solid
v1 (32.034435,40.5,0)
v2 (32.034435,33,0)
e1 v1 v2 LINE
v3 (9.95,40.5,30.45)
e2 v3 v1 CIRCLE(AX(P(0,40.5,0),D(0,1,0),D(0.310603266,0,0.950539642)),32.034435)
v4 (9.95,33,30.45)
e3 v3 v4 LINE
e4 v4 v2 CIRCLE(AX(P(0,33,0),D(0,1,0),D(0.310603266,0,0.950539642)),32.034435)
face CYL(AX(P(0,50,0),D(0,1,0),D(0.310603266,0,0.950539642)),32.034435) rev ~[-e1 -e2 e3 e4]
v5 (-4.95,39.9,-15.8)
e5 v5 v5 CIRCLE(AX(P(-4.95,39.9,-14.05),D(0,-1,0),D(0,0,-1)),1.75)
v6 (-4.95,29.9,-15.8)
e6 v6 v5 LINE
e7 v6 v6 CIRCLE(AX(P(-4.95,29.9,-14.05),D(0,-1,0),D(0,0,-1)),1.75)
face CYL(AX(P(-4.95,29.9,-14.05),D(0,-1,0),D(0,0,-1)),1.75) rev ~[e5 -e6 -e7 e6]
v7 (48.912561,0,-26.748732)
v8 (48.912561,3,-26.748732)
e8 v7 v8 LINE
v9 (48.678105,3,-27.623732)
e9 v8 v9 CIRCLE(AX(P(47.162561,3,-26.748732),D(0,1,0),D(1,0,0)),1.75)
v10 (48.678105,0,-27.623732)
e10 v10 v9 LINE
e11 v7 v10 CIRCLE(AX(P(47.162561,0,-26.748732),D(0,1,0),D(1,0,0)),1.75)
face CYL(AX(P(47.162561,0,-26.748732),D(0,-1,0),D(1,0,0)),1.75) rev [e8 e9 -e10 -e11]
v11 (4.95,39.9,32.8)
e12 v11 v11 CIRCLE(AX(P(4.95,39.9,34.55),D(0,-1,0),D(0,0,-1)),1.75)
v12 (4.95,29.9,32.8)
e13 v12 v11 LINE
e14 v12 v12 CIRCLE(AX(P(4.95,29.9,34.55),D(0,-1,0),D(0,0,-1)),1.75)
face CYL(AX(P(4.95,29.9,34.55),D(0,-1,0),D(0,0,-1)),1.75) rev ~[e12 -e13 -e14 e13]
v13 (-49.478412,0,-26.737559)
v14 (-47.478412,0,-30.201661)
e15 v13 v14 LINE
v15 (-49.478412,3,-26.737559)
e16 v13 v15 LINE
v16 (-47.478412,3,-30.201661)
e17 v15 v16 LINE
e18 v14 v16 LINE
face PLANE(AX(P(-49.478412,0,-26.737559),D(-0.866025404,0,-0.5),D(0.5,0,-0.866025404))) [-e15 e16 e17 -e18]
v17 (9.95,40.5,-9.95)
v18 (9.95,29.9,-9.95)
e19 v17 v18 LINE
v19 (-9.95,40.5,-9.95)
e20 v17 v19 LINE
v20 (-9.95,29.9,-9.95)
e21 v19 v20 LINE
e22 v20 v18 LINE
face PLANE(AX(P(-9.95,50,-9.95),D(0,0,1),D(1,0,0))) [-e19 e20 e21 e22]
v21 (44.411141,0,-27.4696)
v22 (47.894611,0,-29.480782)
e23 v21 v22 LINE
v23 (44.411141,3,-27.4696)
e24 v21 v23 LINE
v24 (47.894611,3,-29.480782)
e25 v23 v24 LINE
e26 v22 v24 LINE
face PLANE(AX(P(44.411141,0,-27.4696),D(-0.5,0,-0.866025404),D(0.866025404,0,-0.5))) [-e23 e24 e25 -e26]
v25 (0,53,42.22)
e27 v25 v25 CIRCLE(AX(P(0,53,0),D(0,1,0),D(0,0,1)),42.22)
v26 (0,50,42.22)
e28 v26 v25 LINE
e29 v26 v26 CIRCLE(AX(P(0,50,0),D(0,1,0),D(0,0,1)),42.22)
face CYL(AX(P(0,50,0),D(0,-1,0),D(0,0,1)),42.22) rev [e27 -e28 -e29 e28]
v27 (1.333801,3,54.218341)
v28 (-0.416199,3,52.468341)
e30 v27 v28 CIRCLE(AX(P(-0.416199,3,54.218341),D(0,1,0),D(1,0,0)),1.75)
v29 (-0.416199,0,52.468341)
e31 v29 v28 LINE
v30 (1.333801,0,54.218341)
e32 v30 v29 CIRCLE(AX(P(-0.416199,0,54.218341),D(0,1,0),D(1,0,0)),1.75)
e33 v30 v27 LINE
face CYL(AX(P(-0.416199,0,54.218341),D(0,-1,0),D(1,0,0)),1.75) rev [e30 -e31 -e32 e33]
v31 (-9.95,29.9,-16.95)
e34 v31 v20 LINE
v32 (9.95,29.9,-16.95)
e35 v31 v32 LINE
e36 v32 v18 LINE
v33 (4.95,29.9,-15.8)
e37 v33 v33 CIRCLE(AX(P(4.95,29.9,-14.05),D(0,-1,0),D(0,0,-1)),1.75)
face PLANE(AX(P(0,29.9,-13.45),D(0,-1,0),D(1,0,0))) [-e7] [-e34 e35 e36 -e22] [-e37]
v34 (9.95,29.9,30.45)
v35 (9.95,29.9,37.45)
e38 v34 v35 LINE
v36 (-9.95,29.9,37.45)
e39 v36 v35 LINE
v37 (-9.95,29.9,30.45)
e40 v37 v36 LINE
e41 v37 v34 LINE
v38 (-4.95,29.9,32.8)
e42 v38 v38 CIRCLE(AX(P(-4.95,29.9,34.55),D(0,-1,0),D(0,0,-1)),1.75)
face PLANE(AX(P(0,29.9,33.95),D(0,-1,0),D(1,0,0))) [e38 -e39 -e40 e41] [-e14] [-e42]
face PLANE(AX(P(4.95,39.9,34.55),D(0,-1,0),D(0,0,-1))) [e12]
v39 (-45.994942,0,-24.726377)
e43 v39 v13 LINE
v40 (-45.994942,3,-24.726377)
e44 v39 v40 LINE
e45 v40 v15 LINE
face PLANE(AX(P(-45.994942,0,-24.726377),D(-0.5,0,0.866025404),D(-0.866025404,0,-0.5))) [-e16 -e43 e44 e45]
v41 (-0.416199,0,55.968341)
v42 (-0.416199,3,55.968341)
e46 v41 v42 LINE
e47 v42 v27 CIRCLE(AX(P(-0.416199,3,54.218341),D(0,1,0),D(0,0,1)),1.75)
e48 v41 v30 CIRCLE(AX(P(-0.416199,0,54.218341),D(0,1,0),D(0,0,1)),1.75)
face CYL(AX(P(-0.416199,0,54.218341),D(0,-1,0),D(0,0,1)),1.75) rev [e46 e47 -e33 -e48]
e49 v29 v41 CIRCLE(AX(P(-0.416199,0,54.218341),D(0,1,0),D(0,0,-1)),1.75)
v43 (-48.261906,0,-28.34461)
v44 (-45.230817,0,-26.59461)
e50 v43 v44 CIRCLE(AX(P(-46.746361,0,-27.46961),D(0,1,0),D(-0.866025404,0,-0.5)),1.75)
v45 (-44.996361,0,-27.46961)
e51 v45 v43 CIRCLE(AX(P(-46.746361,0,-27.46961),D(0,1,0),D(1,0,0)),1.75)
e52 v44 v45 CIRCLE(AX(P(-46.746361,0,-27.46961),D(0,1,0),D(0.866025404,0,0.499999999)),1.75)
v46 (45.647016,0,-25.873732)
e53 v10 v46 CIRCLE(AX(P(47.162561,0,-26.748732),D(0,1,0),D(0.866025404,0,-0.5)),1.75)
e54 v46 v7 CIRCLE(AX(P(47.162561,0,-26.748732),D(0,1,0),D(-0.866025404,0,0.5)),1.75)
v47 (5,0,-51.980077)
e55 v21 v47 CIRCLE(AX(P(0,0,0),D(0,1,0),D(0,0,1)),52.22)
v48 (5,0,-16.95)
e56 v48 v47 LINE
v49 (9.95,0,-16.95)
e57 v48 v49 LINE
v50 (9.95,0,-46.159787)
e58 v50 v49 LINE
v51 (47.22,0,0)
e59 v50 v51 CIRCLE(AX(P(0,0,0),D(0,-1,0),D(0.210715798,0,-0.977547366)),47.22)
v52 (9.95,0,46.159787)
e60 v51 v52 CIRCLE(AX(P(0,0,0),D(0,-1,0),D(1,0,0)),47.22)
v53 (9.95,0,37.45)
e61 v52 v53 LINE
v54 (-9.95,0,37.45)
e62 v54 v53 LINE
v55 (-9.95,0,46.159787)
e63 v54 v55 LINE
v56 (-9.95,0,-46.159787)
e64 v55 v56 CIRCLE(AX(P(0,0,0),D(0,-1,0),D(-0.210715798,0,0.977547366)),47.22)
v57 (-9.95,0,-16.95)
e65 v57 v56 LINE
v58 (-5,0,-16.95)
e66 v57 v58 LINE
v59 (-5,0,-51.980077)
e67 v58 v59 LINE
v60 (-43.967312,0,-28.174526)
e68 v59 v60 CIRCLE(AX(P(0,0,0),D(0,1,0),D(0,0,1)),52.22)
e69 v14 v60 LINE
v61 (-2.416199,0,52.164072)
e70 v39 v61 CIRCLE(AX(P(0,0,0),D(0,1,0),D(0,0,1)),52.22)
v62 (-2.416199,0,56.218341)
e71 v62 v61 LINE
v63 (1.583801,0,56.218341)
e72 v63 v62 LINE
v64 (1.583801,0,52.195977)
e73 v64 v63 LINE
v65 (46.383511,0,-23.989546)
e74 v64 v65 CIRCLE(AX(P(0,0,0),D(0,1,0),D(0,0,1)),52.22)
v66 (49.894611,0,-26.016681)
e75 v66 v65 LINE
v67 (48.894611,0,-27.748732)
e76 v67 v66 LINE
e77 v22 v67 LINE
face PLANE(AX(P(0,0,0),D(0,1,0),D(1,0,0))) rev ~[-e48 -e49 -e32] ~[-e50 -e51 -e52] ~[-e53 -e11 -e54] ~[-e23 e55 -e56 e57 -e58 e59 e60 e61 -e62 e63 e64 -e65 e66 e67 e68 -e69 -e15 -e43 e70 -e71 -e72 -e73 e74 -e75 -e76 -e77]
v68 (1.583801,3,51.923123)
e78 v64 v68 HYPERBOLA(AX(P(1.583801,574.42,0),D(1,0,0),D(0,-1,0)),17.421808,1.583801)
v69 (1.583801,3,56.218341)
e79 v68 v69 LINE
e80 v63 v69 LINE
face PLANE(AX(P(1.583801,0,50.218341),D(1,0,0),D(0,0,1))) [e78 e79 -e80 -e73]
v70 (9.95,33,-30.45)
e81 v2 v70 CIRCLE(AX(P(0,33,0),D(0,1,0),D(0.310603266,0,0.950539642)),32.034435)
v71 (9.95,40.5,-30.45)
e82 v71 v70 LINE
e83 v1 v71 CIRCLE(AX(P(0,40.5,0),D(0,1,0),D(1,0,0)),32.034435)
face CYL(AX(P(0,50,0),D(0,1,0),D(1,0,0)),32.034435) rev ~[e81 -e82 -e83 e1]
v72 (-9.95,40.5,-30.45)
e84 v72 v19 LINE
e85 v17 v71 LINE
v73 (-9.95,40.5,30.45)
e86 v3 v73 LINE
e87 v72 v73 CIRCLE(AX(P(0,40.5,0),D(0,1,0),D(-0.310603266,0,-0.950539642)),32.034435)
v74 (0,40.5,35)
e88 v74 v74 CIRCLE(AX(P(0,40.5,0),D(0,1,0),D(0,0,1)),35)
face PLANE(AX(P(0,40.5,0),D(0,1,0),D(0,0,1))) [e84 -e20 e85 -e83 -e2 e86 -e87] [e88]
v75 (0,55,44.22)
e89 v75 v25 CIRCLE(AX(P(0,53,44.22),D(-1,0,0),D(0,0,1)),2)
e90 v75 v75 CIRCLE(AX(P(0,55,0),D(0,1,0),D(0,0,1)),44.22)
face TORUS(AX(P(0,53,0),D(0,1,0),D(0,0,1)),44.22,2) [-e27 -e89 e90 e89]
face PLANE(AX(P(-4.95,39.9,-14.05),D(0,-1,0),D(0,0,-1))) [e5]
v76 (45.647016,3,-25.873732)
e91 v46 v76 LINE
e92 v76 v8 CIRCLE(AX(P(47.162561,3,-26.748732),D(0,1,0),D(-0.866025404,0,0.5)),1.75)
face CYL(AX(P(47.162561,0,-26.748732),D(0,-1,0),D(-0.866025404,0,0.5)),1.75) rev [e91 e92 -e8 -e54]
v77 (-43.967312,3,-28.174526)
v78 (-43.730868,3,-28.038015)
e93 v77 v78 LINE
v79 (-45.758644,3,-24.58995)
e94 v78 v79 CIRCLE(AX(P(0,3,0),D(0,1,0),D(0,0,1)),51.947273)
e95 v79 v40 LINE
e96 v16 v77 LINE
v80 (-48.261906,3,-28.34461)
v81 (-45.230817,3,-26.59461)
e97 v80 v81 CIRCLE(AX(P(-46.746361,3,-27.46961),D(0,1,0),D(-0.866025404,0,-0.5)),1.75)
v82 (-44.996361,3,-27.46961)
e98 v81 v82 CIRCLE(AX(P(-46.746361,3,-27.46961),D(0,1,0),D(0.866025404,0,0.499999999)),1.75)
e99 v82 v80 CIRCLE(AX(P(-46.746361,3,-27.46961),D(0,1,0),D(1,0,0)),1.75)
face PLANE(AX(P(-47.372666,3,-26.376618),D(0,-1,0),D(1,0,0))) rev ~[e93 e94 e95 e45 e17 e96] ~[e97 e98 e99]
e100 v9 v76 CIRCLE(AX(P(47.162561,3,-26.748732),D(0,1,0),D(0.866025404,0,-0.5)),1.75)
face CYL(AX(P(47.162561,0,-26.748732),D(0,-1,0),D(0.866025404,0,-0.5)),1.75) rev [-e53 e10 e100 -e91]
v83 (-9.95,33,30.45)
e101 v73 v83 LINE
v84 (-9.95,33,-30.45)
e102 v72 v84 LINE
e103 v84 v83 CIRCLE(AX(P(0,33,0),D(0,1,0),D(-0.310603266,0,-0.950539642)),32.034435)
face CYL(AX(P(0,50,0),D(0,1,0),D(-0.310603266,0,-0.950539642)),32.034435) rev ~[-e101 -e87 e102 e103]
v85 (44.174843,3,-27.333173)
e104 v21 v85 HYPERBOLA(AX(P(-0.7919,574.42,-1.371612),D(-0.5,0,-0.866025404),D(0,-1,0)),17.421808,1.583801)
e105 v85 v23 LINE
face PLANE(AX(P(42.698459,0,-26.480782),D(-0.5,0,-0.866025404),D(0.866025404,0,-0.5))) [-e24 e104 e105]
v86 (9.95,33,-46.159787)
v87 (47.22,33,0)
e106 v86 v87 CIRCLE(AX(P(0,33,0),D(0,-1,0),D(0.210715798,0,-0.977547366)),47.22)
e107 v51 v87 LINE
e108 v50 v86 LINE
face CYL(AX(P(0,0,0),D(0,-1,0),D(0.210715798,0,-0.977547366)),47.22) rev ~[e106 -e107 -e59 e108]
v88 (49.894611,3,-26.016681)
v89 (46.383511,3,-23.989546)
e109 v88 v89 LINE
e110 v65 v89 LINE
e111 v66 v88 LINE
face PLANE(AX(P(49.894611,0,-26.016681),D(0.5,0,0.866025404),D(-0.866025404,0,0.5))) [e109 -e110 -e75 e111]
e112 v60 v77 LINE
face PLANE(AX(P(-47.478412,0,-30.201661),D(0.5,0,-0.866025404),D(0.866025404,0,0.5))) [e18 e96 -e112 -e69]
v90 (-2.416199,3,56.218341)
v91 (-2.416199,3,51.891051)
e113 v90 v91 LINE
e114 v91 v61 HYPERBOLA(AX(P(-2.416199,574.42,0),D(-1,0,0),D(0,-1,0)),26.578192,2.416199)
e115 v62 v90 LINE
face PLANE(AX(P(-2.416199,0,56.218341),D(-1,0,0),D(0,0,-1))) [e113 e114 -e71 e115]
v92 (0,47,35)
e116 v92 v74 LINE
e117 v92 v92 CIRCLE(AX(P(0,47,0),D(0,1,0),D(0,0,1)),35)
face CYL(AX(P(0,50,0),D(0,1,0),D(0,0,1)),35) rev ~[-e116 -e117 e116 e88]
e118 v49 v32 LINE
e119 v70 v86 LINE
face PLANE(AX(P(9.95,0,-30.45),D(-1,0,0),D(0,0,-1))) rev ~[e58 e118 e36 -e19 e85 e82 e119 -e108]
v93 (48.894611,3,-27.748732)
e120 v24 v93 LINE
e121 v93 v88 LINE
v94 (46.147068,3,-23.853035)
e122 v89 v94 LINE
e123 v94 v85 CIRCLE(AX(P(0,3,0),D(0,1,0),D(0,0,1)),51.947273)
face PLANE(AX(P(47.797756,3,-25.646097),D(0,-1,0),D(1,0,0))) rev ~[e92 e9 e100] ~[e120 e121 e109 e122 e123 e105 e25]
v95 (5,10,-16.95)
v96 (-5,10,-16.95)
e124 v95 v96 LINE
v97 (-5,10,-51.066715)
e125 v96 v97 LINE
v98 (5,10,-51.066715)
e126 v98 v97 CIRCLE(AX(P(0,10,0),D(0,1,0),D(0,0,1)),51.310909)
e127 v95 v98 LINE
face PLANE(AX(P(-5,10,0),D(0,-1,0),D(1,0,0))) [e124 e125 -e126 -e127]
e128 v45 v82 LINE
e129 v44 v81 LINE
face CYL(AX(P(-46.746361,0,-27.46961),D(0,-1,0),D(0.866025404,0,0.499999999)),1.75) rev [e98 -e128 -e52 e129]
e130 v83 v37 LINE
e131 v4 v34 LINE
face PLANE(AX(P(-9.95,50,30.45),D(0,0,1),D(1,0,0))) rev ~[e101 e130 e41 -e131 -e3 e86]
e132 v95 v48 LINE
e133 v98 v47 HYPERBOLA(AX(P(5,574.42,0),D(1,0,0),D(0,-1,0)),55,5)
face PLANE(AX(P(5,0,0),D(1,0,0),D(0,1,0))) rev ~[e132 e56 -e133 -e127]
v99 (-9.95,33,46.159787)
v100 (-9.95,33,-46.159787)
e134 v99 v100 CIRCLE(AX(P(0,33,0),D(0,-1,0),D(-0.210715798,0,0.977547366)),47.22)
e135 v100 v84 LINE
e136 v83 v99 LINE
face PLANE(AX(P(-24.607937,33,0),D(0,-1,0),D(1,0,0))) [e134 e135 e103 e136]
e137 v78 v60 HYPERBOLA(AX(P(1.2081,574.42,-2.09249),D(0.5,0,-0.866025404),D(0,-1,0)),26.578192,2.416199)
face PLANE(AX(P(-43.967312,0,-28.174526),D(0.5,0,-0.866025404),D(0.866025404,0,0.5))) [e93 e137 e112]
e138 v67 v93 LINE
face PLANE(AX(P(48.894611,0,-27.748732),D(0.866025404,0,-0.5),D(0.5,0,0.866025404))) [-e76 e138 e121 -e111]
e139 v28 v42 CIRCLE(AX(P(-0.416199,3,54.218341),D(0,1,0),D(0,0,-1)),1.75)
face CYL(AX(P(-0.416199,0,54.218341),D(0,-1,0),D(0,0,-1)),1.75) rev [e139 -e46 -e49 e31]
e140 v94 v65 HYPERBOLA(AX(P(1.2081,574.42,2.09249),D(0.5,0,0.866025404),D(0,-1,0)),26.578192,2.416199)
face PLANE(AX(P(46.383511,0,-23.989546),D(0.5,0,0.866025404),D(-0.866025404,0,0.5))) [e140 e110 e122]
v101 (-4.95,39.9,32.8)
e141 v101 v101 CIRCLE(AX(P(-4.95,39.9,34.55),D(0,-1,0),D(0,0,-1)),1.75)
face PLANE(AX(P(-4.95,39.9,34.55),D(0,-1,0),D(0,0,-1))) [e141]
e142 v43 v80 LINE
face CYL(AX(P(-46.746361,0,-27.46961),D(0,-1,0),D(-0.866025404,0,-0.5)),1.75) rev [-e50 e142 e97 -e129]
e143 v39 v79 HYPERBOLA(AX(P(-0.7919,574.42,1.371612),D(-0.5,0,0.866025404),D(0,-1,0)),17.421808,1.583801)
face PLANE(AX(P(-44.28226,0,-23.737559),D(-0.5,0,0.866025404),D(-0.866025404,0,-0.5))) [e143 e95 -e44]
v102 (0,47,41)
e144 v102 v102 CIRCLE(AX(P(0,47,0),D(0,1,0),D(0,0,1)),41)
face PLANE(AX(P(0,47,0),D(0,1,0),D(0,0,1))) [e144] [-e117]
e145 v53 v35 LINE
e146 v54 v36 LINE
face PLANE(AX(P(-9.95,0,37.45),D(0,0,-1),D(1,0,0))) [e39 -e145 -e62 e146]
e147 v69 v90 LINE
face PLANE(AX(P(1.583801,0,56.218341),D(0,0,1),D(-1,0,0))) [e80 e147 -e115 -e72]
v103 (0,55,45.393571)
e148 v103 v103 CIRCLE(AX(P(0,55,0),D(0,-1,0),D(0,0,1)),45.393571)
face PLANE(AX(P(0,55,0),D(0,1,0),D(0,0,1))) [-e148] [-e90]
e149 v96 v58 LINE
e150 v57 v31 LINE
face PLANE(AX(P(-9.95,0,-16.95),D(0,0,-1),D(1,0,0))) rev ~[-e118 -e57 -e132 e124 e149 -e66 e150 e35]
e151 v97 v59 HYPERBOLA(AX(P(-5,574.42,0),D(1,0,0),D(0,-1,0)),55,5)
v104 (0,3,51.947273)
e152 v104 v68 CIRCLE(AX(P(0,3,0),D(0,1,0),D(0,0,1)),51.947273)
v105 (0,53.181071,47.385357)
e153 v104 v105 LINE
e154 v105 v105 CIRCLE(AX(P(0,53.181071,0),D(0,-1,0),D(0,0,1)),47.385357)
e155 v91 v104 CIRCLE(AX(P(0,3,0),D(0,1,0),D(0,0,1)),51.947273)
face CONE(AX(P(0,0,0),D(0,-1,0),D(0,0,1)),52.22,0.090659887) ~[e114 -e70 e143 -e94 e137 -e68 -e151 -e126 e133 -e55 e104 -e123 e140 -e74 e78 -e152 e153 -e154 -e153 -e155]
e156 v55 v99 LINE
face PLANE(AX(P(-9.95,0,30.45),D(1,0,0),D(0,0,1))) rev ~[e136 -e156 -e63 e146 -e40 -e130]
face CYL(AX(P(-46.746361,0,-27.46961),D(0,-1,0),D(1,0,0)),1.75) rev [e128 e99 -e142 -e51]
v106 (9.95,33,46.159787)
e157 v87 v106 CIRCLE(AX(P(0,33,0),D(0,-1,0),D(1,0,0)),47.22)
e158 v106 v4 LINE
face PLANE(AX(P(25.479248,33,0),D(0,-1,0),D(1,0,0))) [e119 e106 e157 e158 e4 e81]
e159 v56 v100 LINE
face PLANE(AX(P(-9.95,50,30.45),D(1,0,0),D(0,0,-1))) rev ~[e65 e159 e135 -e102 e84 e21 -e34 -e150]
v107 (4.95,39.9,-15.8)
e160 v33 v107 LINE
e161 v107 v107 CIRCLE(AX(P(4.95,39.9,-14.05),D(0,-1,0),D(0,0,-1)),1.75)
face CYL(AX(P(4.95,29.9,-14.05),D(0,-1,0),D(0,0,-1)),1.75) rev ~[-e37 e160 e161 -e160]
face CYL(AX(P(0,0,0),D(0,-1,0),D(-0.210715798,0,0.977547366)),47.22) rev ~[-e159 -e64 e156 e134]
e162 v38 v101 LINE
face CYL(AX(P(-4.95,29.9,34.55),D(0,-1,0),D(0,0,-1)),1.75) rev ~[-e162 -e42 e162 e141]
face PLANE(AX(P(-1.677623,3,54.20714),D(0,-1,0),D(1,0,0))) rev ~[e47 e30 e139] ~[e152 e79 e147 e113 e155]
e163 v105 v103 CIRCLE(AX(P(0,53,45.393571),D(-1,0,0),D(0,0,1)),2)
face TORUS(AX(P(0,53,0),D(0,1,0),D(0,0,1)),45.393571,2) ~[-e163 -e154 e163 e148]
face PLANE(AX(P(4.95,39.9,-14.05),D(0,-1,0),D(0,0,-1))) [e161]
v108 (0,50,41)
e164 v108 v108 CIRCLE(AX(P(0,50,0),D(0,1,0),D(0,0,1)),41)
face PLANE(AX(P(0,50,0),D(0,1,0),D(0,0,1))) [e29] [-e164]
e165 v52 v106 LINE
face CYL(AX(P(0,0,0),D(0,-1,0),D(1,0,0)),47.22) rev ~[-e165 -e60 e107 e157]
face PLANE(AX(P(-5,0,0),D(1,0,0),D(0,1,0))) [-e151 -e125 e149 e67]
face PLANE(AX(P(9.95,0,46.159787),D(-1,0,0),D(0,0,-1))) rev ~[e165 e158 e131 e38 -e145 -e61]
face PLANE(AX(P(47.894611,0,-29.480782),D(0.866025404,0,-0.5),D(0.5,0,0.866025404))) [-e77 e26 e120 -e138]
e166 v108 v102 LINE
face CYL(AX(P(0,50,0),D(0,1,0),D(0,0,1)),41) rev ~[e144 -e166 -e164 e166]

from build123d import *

# Parameters (mm, degrees)
SKETCH_1_R          = 52.22
SKETCH_1_R_2        = 47.22
SKETCH_1_R_3        = 42.22
EXTRUDE_1_DEPTH     = 50
SKETCH_3_R          = 52.22
SKETCH_3_R_2        = 47.22
SKETCH_3_R_3        = 42.22
EXTRUDE_2_DEPTH     = 5
CUT_EXTRUDE_1_REACH = 91.184
SKETCH_6_W          = 19.9
SKETCH_6_H          = 40.4
SKETCH_9_W          = 19.9
SKETCH_9_H          = 7
CUT_EXTRUDE_2_DEPTH = 29.9
SKETCH_13_W         = 10
SKETCH_13_H         = 10
CUT_EXTRUDE_3_DEPTH = 93.080708077
SKETCH_14_R         = 41
SKETCH_14_R_2       = 35
CUT_EXTRUDE_4_DEPTH = 3
CUT_EXTRUDE_5_DEPTH = 90.184397739
CUT_EXTRUDE_6_DEPTH = 33
SKETCH_21_R         = 35
CUT_EXTRUDE_7_DEPTH = 9.5
EXTRUDE_3_DEPTH     = 3
SKETCH_10_R         = 1.75
CUT_EXTRUDE_8_DEPTH = 10
FILLET_1_R          = 2
FILLET_2_R          = 2


with BuildPart() as part:
    # 草图1 → 凸台-拉伸1 (new body)
    # profile 1 of 3: a face of its own
    with BuildSketch(Plane(origin=(0, 0, 0), x_dir=(1, 0, 0), z_dir=(0, 1, 0))):
        with Locations(Location((0, 0, 0), (0, 0, 270))):
            Circle(SKETCH_1_R)
        Circle(SKETCH_1_R_2, mode=Mode.SUBTRACT)
    # profile 2 of 3: a face of its own
    with BuildSketch(Plane(origin=(0, 0, 0), x_dir=(1, 0, 0), z_dir=(0, 1, 0))):
        Circle(SKETCH_1_R_2)
        Circle(SKETCH_1_R_3, mode=Mode.SUBTRACT)
    # profile 3 of 3: a face of its own
    with BuildSketch(Plane(origin=(0, 0, 0), x_dir=(1, 0, 0), z_dir=(0, 1, 0))):
        Circle(SKETCH_1_R_3)
    extrude(amount=EXTRUDE_1_DEPTH)

    # 草图3 → 凸台-拉伸2 (add)
    # profile 1 of 2: a face of its own
    with BuildSketch(Plane(origin=(0, 50, 0), x_dir=(1, 0, 0), z_dir=(0, 1, 0))):
        with Locations(Location((0, 0, 0), (0, 0, 270))):
            Circle(SKETCH_3_R)
        Circle(SKETCH_3_R_2, mode=Mode.SUBTRACT)
    # profile 2 of 2: a face of its own
    with BuildSketch(Plane(origin=(0, 50, 0), x_dir=(1, 0, 0), z_dir=(0, 1, 0))):
        Circle(SKETCH_3_R_2)
        with Locations(Location((0, 0, 0), (0, 0, 270))):
            Circle(SKETCH_3_R_3, mode=Mode.SUBTRACT)
    extrude(amount=EXTRUDE_2_DEPTH)

    # 草图5 → 切除-旋转2 (revolve, cut)
    with BuildSketch(Plane(origin=(0, 0, 0), x_dir=(0, 0, -1), z_dir=(1, 0, 0)), mode=Mode.PRIVATE) as cut_revolve_2_sk:
        Polygon((52.22, 55), (52.22, 0), (47.22, 55), align=None)
    revolve(cut_revolve_2_sk.sketch.rotate(Axis((0, 58.85755821, 0), (0, -1, 0)), 180), axis=Axis((0, 58.85755821, 0), (0, -1, 0)), mode=Mode.SUBTRACT)

    # 草图6 → 切除-拉伸1 (cut, up to next)
    with BuildSketch(Plane(origin=(0, 50, 0), x_dir=(1, 0, 0), z_dir=(0, 1, 0)), mode=Mode.PRIVATE) as cut_extrude_1_sk1:
        with Locations((0, -10.25)):
            Rectangle(SKETCH_6_W, SKETCH_6_H)
    cut_extrude_1_tool1 = extrude(cut_extrude_1_sk1.sketch, amount=-CUT_EXTRUDE_1_REACH, mode=Mode.PRIVATE) & part.part
    add(cut_extrude_1_tool1.solids().sort_by_distance((0, 50, 10.25))[0], mode=Mode.SUBTRACT)

    # 草图9 → 切除-拉伸2 (cut)
    with BuildSketch(Plane.XZ):
        with Locations((0, 33.95)):
            Rectangle(SKETCH_9_W, SKETCH_9_H)
        with Locations((0, -13.45)):
            Rectangle(SKETCH_9_W, SKETCH_9_H)
    extrude(amount=-CUT_EXTRUDE_2_DEPTH, mode=Mode.SUBTRACT)

    # 草图13 → 切除-拉伸3 (cut, through all)
    with BuildSketch(Plane.XY):
        with Locations((0, 5)):
            Rectangle(SKETCH_13_W, SKETCH_13_H)
    extrude(amount=-CUT_EXTRUDE_3_DEPTH, mode=Mode.SUBTRACT)

    # 草图14 → 切除-拉伸4 (cut)
    with BuildSketch(Plane(origin=(0, 50, 0), x_dir=(1, 0, 0), z_dir=(0, 1, 0))):
        with Locations(Location((0, 0, 0), (0, 0, 270))):
            Circle(SKETCH_14_R)
        with Locations(Location((0, 0, 0), (0, 0, 270))):
            Circle(SKETCH_14_R_2, mode=Mode.SUBTRACT)
    extrude(amount=-CUT_EXTRUDE_4_DEPTH, mode=Mode.SUBTRACT)

    # 草图15 → 切除-拉伸5 (cut, through all)
    with BuildSketch(Plane(origin=(0, 50, 0), x_dir=(1, 0, 0), z_dir=(0, 1, 0))):
        with BuildLine():
            Line((-9.95, -30.45), (-9.95, 9.95))
            Line((-9.95, 9.95), (-9.95, 30.45))
            ThreePointArc((-9.95, 30.45), (-32.034434598, 0), (-9.95, -30.45))
        make_face()
        with BuildLine():
            Line((9.95, 30.45), (9.95, 9.95))
            Line((9.95, 9.95), (9.95, -30.45))
            ThreePointArc((9.95, -30.45), (25.932100033, -18.807742764), (32.034434598, 0))
            ThreePointArc((32.034434598, 0), (25.932100033, 18.807742764), (9.95, 30.45))
        make_face()
    extrude(amount=-CUT_EXTRUDE_5_DEPTH, mode=Mode.SUBTRACT)

    # 草图17 → 切除-拉伸6 (cut)
    with BuildSketch(Plane.XZ):
        with BuildLine():
            ThreePointArc((-9.95, -30.45), (-32.034434598, 0), (-9.95, 30.45))
            Line((-9.95, 30.45), (-9.95, 37.45))
            Line((-9.95, 37.45), (-9.95, 41.030792096))
            ThreePointArc((-9.95, 41.030792096), (-42.22, 0), (-9.95, -41.030792096))
            Line((-9.95, -41.030792096), (-9.95, -30.45))
        make_face()
        with BuildLine():
            Line((-9.95, -46.159786611), (-9.95, -41.030792096))
            ThreePointArc((-9.95, -41.030792096), (-42.22, 0), (-9.95, 41.030792096))
            Line((-9.95, 41.030792096), (-9.95, 46.159786611))
            ThreePointArc((-9.95, 46.159786611), (-47.22, 0), (-9.95, -46.159786611))
        make_face()
        with BuildLine():
            Line((9.95, -30.45), (9.95, -41.030792096))
            ThreePointArc((9.95, -41.030792096), (33.185971434, -26.100185823), (42.22, 0))
            ThreePointArc((42.22, 0), (33.185971434, 26.100185823), (9.95, 41.030792096))
            Line((9.95, 41.030792096), (9.95, 37.45))
            Line((9.95, 37.45), (9.95, 30.45))
            ThreePointArc((9.95, 30.45), (32.034434598, 0), (9.95, -30.45))
        make_face()
        with BuildLine():
            ThreePointArc((42.22, 0), (33.185971434, -26.100185823), (9.95, -41.030792096))
            Line((9.95, -41.030792096), (9.95, -46.159786611))
            ThreePointArc((9.95, -46.159786611), (36.739402554, -29.663861852), (47.22, 0))
            ThreePointArc((47.22, 0), (36.739402554, 29.663861852), (9.95, 46.159786611))
            Line((9.95, 46.159786611), (9.95, 41.030792096))
            ThreePointArc((9.95, 41.030792096), (33.185971434, 26.100185823), (42.22, 0))
        make_face()
    extrude(amount=-CUT_EXTRUDE_6_DEPTH, mode=Mode.SUBTRACT)

    # 草图21 → 切除-拉伸7 (cut)
    with BuildSketch(Plane(origin=(0, 50, 0), x_dir=(1, 0, 0), z_dir=(0, 1, 0))):
        with Locations(Location((0, 0, 0), (0, 0, 270))):
            Circle(SKETCH_21_R)
    extrude(amount=-CUT_EXTRUDE_7_DEPTH, mode=Mode.SUBTRACT)

    # 草图22 → 凸台-拉伸3 (add)
    with BuildSketch(Plane.XZ):
        with BuildLine():
            ThreePointArc((-2.41619928, 52.164071745), (-1.416459213, 52.200785849), (-0.41619928, 52.218341396))
            Line((-0.41619928, 52.218341396), (-0.41619928, 52.468341396))
            ThreePointArc((-0.41619928, 52.468341396), (-2.16619928, 54.218341396), (-0.41619928, 55.968341396))
            Line((-0.41619928, 55.968341396), (-0.41619928, 56.218341396))
            Line((-0.41619928, 56.218341396), (-2.41619928, 56.218341396))
            Line((-2.41619928, 56.218341396), (-2.41619928, 52.164071745))
        make_face()
        with BuildLine():
            Line((-0.41619928, 52.468341396), (-0.41619928, 52.218341396))
            ThreePointArc((-0.41619928, 52.218341396), (0.583907806, 52.21673536), (1.58380072, 52.19597662))
            Line((1.58380072, 52.19597662), (1.58380072, 56.218341396))
            Line((1.58380072, 56.218341396), (-0.41619928, 56.218341396))
            Line((-0.41619928, 56.218341396), (-0.41619928, 55.968341396))
            ThreePointArc((-0.41619928, 55.968341396), (0.821237587, 55.455778263), (1.33380072, 54.218341396))
            ThreePointArc((1.33380072, 54.218341396), (0.821237587, 52.980904529), (-0.41619928, 52.468341396))
        make_face()
        with BuildLine():
            Line((-0.41619928, 52.218341396), (-0.400258549, 50.218341396))
            Line((-0.400258549, 50.218341396), (1.58380072, 50.218341396))
            Line((1.58380072, 50.218341396), (1.58380072, 52.19597662))
            ThreePointArc((1.58380072, 52.19597662), (0.583907806, 52.21673536), (-0.41619928, 52.218341396))
        make_face()
        with BuildLine():
            Line((-2.41619928, 50.218341396), (-0.400258549, 50.218341396))
            Line((-0.400258549, 50.218341396), (-0.41619928, 52.218341396))
            ThreePointArc((-0.41619928, 52.218341396), (-1.416459213, 52.200785849), (-2.41619928, 52.164071745))
            Line((-2.41619928, 52.164071745), (-2.41619928, 50.218341396))
        make_face()
        with BuildLine():
            ThreePointArc((46.383510936, -23.989545915), (45.915436249, -24.873703263), (45.430509833, -25.748731548))
            Line((45.430509833, -25.748731548), (45.647016184, -25.873731548))
            ThreePointArc((45.647016184, -25.873731548), (47.615493969, -25.058361352), (48.91256064, -26.748731548))
            ThreePointArc((48.91256064, -26.748731548), (48.852930836, -27.201664877), (48.678105097, -27.623731548))
            Line((48.678105097, -27.623731548), (48.894611448, -27.748731548))
            Line((48.894611448, -27.748731548), (49.894611448, -26.016680741))
            Line((49.894611448, -26.016680741), (46.383510936, -23.989545915))
        make_face()
        with BuildLine():
            Line((44.698459025, -23.016680741), (43.690488659, -24.762536627))
            Line((43.690488659, -24.762536627), (45.430509833, -25.748731548))
            ThreePointArc((45.430509833, -25.748731548), (45.915436249, -24.873703263), (46.383510936, -23.989545915))
            Line((46.383510936, -23.989545915), (44.698459025, -23.016680741))
        make_face()
        with BuildLine():
            Line((45.430509833, -25.748731548), (43.690488659, -24.762536627))
            Line((43.690488659, -24.762536627), (42.698459025, -26.480782356))
            Line((42.698459025, -26.480782356), (44.411141368, -27.469599967))
            ThreePointArc((44.411141368, -27.469599967), (44.929065422, -26.614046674), (45.430509833, -25.748731548))
        make_face()
        with BuildLine():
            Line((45.647016184, -25.873731548), (45.430509833, -25.748731548))
            ThreePointArc((45.430509833, -25.748731548), (44.929065422, -26.614046674), (44.411141368, -27.469599967))
            Line((44.411141368, -27.469599967), (47.894611448, -29.480782356))
            Line((47.894611448, -29.480782356), (48.894611448, -27.748731548))
            Line((48.894611448, -27.748731548), (48.678105097, -27.623731548))
            ThreePointArc((48.678105097, -27.623731548), (46.28756064, -28.264276005), (45.647016184, -25.873731548))
        make_face()
        with BuildLine():
            Line((-45.230816903, -26.594609848), (-45.014310552, -26.469609848))
            ThreePointArc((-45.014310552, -26.469609848), (-45.512973228, -25.602688687), (-45.994942088, -24.726376652))
            Line((-45.994942088, -24.726376652), (-49.478412167, -26.73755904))
            Line((-49.478412167, -26.73755904), (-48.478412167, -28.469609848))
            Line((-48.478412167, -28.469609848), (-48.261905816, -28.344609848))
            ThreePointArc((-48.261905816, -28.344609848), (-47.62136136, -25.954065391), (-45.230816903, -26.594609848))
        make_face()
        with BuildLine():
            Line((-45.014310552, -26.469609848), (-43.29023011, -25.45580477))
            Line((-43.29023011, -25.45580477), (-44.282259745, -23.73755904))
            Line((-44.282259745, -23.73755904), (-45.994942088, -24.726376652))
            ThreePointArc((-45.994942088, -24.726376652), (-45.512973228, -25.602688687), (-45.014310552, -26.469609848))
        make_face()
        with BuildLine():
            Line((-42.282259745, -27.201660656), (-43.29023011, -25.45580477))
            Line((-43.29023011, -25.45580477), (-45.014310552, -26.469609848))
            ThreePointArc((-45.014310552, -26.469609848), (-44.498977037, -27.327082586), (-43.967311656, -28.17452583))
            Line((-43.967311656, -28.17452583), (-42.282259745, -27.201660656))
        make_face()
        with BuildLine():
            ThreePointArc((-43.967311656, -28.17452583), (-44.498977037, -27.327082586), (-45.014310552, -26.469609848))
            Line((-45.014310552, -26.469609848), (-45.230816903, -26.594609848))
            ThreePointArc((-45.230816903, -26.594609848), (-45.055991164, -27.016676519), (-44.99636136, -27.469609848))
            ThreePointArc((-44.99636136, -27.469609848), (-46.293428031, -29.159980044), (-48.261905816, -28.344609848))
            Line((-48.261905816, -28.344609848), (-48.478412167, -28.469609848))
            Line((-48.478412167, -28.469609848), (-47.478412167, -30.201660656))
            Line((-47.478412167, -30.201660656), (-43.967311656, -28.17452583))
        make_face()
    extrude(amount=-EXTRUDE_3_DEPTH)

    # 草图10 → 切除-拉伸8 (cut)
    with BuildSketch(Plane.XZ.offset(-29.9)):
        with Locations(Location((4.95, 34.55, 0), (0, 0, 270))):
            Circle(SKETCH_10_R)
        with Locations(Location((-4.95, 34.55, 0), (0, 0, 270))):
            Circle(SKETCH_10_R)
        with Locations(Location((-4.95, -14.05, 0), (0, 0, 270))):
            Circle(SKETCH_10_R)
        with Locations(Location((4.95, -14.05, 0), (0, 0, 270))):
            Circle(SKETCH_10_R)
    extrude(amount=-CUT_EXTRUDE_8_DEPTH, mode=Mode.SUBTRACT)

    # 圆角1
    fillet_1_edges = [part.edges().sort_by_distance(p)[0] for p in [
        (0, 55, -47.22),
    ]]
    fillet(fillet_1_edges, radius=FILLET_1_R)

    # 圆角2
    fillet_2_edges = [part.edges().sort_by_distance(p)[0] for p in [
        (0, 55, -42.22),
    ]]
    fillet(fillet_2_edges, radius=FILLET_2_R)


solid = part.part
